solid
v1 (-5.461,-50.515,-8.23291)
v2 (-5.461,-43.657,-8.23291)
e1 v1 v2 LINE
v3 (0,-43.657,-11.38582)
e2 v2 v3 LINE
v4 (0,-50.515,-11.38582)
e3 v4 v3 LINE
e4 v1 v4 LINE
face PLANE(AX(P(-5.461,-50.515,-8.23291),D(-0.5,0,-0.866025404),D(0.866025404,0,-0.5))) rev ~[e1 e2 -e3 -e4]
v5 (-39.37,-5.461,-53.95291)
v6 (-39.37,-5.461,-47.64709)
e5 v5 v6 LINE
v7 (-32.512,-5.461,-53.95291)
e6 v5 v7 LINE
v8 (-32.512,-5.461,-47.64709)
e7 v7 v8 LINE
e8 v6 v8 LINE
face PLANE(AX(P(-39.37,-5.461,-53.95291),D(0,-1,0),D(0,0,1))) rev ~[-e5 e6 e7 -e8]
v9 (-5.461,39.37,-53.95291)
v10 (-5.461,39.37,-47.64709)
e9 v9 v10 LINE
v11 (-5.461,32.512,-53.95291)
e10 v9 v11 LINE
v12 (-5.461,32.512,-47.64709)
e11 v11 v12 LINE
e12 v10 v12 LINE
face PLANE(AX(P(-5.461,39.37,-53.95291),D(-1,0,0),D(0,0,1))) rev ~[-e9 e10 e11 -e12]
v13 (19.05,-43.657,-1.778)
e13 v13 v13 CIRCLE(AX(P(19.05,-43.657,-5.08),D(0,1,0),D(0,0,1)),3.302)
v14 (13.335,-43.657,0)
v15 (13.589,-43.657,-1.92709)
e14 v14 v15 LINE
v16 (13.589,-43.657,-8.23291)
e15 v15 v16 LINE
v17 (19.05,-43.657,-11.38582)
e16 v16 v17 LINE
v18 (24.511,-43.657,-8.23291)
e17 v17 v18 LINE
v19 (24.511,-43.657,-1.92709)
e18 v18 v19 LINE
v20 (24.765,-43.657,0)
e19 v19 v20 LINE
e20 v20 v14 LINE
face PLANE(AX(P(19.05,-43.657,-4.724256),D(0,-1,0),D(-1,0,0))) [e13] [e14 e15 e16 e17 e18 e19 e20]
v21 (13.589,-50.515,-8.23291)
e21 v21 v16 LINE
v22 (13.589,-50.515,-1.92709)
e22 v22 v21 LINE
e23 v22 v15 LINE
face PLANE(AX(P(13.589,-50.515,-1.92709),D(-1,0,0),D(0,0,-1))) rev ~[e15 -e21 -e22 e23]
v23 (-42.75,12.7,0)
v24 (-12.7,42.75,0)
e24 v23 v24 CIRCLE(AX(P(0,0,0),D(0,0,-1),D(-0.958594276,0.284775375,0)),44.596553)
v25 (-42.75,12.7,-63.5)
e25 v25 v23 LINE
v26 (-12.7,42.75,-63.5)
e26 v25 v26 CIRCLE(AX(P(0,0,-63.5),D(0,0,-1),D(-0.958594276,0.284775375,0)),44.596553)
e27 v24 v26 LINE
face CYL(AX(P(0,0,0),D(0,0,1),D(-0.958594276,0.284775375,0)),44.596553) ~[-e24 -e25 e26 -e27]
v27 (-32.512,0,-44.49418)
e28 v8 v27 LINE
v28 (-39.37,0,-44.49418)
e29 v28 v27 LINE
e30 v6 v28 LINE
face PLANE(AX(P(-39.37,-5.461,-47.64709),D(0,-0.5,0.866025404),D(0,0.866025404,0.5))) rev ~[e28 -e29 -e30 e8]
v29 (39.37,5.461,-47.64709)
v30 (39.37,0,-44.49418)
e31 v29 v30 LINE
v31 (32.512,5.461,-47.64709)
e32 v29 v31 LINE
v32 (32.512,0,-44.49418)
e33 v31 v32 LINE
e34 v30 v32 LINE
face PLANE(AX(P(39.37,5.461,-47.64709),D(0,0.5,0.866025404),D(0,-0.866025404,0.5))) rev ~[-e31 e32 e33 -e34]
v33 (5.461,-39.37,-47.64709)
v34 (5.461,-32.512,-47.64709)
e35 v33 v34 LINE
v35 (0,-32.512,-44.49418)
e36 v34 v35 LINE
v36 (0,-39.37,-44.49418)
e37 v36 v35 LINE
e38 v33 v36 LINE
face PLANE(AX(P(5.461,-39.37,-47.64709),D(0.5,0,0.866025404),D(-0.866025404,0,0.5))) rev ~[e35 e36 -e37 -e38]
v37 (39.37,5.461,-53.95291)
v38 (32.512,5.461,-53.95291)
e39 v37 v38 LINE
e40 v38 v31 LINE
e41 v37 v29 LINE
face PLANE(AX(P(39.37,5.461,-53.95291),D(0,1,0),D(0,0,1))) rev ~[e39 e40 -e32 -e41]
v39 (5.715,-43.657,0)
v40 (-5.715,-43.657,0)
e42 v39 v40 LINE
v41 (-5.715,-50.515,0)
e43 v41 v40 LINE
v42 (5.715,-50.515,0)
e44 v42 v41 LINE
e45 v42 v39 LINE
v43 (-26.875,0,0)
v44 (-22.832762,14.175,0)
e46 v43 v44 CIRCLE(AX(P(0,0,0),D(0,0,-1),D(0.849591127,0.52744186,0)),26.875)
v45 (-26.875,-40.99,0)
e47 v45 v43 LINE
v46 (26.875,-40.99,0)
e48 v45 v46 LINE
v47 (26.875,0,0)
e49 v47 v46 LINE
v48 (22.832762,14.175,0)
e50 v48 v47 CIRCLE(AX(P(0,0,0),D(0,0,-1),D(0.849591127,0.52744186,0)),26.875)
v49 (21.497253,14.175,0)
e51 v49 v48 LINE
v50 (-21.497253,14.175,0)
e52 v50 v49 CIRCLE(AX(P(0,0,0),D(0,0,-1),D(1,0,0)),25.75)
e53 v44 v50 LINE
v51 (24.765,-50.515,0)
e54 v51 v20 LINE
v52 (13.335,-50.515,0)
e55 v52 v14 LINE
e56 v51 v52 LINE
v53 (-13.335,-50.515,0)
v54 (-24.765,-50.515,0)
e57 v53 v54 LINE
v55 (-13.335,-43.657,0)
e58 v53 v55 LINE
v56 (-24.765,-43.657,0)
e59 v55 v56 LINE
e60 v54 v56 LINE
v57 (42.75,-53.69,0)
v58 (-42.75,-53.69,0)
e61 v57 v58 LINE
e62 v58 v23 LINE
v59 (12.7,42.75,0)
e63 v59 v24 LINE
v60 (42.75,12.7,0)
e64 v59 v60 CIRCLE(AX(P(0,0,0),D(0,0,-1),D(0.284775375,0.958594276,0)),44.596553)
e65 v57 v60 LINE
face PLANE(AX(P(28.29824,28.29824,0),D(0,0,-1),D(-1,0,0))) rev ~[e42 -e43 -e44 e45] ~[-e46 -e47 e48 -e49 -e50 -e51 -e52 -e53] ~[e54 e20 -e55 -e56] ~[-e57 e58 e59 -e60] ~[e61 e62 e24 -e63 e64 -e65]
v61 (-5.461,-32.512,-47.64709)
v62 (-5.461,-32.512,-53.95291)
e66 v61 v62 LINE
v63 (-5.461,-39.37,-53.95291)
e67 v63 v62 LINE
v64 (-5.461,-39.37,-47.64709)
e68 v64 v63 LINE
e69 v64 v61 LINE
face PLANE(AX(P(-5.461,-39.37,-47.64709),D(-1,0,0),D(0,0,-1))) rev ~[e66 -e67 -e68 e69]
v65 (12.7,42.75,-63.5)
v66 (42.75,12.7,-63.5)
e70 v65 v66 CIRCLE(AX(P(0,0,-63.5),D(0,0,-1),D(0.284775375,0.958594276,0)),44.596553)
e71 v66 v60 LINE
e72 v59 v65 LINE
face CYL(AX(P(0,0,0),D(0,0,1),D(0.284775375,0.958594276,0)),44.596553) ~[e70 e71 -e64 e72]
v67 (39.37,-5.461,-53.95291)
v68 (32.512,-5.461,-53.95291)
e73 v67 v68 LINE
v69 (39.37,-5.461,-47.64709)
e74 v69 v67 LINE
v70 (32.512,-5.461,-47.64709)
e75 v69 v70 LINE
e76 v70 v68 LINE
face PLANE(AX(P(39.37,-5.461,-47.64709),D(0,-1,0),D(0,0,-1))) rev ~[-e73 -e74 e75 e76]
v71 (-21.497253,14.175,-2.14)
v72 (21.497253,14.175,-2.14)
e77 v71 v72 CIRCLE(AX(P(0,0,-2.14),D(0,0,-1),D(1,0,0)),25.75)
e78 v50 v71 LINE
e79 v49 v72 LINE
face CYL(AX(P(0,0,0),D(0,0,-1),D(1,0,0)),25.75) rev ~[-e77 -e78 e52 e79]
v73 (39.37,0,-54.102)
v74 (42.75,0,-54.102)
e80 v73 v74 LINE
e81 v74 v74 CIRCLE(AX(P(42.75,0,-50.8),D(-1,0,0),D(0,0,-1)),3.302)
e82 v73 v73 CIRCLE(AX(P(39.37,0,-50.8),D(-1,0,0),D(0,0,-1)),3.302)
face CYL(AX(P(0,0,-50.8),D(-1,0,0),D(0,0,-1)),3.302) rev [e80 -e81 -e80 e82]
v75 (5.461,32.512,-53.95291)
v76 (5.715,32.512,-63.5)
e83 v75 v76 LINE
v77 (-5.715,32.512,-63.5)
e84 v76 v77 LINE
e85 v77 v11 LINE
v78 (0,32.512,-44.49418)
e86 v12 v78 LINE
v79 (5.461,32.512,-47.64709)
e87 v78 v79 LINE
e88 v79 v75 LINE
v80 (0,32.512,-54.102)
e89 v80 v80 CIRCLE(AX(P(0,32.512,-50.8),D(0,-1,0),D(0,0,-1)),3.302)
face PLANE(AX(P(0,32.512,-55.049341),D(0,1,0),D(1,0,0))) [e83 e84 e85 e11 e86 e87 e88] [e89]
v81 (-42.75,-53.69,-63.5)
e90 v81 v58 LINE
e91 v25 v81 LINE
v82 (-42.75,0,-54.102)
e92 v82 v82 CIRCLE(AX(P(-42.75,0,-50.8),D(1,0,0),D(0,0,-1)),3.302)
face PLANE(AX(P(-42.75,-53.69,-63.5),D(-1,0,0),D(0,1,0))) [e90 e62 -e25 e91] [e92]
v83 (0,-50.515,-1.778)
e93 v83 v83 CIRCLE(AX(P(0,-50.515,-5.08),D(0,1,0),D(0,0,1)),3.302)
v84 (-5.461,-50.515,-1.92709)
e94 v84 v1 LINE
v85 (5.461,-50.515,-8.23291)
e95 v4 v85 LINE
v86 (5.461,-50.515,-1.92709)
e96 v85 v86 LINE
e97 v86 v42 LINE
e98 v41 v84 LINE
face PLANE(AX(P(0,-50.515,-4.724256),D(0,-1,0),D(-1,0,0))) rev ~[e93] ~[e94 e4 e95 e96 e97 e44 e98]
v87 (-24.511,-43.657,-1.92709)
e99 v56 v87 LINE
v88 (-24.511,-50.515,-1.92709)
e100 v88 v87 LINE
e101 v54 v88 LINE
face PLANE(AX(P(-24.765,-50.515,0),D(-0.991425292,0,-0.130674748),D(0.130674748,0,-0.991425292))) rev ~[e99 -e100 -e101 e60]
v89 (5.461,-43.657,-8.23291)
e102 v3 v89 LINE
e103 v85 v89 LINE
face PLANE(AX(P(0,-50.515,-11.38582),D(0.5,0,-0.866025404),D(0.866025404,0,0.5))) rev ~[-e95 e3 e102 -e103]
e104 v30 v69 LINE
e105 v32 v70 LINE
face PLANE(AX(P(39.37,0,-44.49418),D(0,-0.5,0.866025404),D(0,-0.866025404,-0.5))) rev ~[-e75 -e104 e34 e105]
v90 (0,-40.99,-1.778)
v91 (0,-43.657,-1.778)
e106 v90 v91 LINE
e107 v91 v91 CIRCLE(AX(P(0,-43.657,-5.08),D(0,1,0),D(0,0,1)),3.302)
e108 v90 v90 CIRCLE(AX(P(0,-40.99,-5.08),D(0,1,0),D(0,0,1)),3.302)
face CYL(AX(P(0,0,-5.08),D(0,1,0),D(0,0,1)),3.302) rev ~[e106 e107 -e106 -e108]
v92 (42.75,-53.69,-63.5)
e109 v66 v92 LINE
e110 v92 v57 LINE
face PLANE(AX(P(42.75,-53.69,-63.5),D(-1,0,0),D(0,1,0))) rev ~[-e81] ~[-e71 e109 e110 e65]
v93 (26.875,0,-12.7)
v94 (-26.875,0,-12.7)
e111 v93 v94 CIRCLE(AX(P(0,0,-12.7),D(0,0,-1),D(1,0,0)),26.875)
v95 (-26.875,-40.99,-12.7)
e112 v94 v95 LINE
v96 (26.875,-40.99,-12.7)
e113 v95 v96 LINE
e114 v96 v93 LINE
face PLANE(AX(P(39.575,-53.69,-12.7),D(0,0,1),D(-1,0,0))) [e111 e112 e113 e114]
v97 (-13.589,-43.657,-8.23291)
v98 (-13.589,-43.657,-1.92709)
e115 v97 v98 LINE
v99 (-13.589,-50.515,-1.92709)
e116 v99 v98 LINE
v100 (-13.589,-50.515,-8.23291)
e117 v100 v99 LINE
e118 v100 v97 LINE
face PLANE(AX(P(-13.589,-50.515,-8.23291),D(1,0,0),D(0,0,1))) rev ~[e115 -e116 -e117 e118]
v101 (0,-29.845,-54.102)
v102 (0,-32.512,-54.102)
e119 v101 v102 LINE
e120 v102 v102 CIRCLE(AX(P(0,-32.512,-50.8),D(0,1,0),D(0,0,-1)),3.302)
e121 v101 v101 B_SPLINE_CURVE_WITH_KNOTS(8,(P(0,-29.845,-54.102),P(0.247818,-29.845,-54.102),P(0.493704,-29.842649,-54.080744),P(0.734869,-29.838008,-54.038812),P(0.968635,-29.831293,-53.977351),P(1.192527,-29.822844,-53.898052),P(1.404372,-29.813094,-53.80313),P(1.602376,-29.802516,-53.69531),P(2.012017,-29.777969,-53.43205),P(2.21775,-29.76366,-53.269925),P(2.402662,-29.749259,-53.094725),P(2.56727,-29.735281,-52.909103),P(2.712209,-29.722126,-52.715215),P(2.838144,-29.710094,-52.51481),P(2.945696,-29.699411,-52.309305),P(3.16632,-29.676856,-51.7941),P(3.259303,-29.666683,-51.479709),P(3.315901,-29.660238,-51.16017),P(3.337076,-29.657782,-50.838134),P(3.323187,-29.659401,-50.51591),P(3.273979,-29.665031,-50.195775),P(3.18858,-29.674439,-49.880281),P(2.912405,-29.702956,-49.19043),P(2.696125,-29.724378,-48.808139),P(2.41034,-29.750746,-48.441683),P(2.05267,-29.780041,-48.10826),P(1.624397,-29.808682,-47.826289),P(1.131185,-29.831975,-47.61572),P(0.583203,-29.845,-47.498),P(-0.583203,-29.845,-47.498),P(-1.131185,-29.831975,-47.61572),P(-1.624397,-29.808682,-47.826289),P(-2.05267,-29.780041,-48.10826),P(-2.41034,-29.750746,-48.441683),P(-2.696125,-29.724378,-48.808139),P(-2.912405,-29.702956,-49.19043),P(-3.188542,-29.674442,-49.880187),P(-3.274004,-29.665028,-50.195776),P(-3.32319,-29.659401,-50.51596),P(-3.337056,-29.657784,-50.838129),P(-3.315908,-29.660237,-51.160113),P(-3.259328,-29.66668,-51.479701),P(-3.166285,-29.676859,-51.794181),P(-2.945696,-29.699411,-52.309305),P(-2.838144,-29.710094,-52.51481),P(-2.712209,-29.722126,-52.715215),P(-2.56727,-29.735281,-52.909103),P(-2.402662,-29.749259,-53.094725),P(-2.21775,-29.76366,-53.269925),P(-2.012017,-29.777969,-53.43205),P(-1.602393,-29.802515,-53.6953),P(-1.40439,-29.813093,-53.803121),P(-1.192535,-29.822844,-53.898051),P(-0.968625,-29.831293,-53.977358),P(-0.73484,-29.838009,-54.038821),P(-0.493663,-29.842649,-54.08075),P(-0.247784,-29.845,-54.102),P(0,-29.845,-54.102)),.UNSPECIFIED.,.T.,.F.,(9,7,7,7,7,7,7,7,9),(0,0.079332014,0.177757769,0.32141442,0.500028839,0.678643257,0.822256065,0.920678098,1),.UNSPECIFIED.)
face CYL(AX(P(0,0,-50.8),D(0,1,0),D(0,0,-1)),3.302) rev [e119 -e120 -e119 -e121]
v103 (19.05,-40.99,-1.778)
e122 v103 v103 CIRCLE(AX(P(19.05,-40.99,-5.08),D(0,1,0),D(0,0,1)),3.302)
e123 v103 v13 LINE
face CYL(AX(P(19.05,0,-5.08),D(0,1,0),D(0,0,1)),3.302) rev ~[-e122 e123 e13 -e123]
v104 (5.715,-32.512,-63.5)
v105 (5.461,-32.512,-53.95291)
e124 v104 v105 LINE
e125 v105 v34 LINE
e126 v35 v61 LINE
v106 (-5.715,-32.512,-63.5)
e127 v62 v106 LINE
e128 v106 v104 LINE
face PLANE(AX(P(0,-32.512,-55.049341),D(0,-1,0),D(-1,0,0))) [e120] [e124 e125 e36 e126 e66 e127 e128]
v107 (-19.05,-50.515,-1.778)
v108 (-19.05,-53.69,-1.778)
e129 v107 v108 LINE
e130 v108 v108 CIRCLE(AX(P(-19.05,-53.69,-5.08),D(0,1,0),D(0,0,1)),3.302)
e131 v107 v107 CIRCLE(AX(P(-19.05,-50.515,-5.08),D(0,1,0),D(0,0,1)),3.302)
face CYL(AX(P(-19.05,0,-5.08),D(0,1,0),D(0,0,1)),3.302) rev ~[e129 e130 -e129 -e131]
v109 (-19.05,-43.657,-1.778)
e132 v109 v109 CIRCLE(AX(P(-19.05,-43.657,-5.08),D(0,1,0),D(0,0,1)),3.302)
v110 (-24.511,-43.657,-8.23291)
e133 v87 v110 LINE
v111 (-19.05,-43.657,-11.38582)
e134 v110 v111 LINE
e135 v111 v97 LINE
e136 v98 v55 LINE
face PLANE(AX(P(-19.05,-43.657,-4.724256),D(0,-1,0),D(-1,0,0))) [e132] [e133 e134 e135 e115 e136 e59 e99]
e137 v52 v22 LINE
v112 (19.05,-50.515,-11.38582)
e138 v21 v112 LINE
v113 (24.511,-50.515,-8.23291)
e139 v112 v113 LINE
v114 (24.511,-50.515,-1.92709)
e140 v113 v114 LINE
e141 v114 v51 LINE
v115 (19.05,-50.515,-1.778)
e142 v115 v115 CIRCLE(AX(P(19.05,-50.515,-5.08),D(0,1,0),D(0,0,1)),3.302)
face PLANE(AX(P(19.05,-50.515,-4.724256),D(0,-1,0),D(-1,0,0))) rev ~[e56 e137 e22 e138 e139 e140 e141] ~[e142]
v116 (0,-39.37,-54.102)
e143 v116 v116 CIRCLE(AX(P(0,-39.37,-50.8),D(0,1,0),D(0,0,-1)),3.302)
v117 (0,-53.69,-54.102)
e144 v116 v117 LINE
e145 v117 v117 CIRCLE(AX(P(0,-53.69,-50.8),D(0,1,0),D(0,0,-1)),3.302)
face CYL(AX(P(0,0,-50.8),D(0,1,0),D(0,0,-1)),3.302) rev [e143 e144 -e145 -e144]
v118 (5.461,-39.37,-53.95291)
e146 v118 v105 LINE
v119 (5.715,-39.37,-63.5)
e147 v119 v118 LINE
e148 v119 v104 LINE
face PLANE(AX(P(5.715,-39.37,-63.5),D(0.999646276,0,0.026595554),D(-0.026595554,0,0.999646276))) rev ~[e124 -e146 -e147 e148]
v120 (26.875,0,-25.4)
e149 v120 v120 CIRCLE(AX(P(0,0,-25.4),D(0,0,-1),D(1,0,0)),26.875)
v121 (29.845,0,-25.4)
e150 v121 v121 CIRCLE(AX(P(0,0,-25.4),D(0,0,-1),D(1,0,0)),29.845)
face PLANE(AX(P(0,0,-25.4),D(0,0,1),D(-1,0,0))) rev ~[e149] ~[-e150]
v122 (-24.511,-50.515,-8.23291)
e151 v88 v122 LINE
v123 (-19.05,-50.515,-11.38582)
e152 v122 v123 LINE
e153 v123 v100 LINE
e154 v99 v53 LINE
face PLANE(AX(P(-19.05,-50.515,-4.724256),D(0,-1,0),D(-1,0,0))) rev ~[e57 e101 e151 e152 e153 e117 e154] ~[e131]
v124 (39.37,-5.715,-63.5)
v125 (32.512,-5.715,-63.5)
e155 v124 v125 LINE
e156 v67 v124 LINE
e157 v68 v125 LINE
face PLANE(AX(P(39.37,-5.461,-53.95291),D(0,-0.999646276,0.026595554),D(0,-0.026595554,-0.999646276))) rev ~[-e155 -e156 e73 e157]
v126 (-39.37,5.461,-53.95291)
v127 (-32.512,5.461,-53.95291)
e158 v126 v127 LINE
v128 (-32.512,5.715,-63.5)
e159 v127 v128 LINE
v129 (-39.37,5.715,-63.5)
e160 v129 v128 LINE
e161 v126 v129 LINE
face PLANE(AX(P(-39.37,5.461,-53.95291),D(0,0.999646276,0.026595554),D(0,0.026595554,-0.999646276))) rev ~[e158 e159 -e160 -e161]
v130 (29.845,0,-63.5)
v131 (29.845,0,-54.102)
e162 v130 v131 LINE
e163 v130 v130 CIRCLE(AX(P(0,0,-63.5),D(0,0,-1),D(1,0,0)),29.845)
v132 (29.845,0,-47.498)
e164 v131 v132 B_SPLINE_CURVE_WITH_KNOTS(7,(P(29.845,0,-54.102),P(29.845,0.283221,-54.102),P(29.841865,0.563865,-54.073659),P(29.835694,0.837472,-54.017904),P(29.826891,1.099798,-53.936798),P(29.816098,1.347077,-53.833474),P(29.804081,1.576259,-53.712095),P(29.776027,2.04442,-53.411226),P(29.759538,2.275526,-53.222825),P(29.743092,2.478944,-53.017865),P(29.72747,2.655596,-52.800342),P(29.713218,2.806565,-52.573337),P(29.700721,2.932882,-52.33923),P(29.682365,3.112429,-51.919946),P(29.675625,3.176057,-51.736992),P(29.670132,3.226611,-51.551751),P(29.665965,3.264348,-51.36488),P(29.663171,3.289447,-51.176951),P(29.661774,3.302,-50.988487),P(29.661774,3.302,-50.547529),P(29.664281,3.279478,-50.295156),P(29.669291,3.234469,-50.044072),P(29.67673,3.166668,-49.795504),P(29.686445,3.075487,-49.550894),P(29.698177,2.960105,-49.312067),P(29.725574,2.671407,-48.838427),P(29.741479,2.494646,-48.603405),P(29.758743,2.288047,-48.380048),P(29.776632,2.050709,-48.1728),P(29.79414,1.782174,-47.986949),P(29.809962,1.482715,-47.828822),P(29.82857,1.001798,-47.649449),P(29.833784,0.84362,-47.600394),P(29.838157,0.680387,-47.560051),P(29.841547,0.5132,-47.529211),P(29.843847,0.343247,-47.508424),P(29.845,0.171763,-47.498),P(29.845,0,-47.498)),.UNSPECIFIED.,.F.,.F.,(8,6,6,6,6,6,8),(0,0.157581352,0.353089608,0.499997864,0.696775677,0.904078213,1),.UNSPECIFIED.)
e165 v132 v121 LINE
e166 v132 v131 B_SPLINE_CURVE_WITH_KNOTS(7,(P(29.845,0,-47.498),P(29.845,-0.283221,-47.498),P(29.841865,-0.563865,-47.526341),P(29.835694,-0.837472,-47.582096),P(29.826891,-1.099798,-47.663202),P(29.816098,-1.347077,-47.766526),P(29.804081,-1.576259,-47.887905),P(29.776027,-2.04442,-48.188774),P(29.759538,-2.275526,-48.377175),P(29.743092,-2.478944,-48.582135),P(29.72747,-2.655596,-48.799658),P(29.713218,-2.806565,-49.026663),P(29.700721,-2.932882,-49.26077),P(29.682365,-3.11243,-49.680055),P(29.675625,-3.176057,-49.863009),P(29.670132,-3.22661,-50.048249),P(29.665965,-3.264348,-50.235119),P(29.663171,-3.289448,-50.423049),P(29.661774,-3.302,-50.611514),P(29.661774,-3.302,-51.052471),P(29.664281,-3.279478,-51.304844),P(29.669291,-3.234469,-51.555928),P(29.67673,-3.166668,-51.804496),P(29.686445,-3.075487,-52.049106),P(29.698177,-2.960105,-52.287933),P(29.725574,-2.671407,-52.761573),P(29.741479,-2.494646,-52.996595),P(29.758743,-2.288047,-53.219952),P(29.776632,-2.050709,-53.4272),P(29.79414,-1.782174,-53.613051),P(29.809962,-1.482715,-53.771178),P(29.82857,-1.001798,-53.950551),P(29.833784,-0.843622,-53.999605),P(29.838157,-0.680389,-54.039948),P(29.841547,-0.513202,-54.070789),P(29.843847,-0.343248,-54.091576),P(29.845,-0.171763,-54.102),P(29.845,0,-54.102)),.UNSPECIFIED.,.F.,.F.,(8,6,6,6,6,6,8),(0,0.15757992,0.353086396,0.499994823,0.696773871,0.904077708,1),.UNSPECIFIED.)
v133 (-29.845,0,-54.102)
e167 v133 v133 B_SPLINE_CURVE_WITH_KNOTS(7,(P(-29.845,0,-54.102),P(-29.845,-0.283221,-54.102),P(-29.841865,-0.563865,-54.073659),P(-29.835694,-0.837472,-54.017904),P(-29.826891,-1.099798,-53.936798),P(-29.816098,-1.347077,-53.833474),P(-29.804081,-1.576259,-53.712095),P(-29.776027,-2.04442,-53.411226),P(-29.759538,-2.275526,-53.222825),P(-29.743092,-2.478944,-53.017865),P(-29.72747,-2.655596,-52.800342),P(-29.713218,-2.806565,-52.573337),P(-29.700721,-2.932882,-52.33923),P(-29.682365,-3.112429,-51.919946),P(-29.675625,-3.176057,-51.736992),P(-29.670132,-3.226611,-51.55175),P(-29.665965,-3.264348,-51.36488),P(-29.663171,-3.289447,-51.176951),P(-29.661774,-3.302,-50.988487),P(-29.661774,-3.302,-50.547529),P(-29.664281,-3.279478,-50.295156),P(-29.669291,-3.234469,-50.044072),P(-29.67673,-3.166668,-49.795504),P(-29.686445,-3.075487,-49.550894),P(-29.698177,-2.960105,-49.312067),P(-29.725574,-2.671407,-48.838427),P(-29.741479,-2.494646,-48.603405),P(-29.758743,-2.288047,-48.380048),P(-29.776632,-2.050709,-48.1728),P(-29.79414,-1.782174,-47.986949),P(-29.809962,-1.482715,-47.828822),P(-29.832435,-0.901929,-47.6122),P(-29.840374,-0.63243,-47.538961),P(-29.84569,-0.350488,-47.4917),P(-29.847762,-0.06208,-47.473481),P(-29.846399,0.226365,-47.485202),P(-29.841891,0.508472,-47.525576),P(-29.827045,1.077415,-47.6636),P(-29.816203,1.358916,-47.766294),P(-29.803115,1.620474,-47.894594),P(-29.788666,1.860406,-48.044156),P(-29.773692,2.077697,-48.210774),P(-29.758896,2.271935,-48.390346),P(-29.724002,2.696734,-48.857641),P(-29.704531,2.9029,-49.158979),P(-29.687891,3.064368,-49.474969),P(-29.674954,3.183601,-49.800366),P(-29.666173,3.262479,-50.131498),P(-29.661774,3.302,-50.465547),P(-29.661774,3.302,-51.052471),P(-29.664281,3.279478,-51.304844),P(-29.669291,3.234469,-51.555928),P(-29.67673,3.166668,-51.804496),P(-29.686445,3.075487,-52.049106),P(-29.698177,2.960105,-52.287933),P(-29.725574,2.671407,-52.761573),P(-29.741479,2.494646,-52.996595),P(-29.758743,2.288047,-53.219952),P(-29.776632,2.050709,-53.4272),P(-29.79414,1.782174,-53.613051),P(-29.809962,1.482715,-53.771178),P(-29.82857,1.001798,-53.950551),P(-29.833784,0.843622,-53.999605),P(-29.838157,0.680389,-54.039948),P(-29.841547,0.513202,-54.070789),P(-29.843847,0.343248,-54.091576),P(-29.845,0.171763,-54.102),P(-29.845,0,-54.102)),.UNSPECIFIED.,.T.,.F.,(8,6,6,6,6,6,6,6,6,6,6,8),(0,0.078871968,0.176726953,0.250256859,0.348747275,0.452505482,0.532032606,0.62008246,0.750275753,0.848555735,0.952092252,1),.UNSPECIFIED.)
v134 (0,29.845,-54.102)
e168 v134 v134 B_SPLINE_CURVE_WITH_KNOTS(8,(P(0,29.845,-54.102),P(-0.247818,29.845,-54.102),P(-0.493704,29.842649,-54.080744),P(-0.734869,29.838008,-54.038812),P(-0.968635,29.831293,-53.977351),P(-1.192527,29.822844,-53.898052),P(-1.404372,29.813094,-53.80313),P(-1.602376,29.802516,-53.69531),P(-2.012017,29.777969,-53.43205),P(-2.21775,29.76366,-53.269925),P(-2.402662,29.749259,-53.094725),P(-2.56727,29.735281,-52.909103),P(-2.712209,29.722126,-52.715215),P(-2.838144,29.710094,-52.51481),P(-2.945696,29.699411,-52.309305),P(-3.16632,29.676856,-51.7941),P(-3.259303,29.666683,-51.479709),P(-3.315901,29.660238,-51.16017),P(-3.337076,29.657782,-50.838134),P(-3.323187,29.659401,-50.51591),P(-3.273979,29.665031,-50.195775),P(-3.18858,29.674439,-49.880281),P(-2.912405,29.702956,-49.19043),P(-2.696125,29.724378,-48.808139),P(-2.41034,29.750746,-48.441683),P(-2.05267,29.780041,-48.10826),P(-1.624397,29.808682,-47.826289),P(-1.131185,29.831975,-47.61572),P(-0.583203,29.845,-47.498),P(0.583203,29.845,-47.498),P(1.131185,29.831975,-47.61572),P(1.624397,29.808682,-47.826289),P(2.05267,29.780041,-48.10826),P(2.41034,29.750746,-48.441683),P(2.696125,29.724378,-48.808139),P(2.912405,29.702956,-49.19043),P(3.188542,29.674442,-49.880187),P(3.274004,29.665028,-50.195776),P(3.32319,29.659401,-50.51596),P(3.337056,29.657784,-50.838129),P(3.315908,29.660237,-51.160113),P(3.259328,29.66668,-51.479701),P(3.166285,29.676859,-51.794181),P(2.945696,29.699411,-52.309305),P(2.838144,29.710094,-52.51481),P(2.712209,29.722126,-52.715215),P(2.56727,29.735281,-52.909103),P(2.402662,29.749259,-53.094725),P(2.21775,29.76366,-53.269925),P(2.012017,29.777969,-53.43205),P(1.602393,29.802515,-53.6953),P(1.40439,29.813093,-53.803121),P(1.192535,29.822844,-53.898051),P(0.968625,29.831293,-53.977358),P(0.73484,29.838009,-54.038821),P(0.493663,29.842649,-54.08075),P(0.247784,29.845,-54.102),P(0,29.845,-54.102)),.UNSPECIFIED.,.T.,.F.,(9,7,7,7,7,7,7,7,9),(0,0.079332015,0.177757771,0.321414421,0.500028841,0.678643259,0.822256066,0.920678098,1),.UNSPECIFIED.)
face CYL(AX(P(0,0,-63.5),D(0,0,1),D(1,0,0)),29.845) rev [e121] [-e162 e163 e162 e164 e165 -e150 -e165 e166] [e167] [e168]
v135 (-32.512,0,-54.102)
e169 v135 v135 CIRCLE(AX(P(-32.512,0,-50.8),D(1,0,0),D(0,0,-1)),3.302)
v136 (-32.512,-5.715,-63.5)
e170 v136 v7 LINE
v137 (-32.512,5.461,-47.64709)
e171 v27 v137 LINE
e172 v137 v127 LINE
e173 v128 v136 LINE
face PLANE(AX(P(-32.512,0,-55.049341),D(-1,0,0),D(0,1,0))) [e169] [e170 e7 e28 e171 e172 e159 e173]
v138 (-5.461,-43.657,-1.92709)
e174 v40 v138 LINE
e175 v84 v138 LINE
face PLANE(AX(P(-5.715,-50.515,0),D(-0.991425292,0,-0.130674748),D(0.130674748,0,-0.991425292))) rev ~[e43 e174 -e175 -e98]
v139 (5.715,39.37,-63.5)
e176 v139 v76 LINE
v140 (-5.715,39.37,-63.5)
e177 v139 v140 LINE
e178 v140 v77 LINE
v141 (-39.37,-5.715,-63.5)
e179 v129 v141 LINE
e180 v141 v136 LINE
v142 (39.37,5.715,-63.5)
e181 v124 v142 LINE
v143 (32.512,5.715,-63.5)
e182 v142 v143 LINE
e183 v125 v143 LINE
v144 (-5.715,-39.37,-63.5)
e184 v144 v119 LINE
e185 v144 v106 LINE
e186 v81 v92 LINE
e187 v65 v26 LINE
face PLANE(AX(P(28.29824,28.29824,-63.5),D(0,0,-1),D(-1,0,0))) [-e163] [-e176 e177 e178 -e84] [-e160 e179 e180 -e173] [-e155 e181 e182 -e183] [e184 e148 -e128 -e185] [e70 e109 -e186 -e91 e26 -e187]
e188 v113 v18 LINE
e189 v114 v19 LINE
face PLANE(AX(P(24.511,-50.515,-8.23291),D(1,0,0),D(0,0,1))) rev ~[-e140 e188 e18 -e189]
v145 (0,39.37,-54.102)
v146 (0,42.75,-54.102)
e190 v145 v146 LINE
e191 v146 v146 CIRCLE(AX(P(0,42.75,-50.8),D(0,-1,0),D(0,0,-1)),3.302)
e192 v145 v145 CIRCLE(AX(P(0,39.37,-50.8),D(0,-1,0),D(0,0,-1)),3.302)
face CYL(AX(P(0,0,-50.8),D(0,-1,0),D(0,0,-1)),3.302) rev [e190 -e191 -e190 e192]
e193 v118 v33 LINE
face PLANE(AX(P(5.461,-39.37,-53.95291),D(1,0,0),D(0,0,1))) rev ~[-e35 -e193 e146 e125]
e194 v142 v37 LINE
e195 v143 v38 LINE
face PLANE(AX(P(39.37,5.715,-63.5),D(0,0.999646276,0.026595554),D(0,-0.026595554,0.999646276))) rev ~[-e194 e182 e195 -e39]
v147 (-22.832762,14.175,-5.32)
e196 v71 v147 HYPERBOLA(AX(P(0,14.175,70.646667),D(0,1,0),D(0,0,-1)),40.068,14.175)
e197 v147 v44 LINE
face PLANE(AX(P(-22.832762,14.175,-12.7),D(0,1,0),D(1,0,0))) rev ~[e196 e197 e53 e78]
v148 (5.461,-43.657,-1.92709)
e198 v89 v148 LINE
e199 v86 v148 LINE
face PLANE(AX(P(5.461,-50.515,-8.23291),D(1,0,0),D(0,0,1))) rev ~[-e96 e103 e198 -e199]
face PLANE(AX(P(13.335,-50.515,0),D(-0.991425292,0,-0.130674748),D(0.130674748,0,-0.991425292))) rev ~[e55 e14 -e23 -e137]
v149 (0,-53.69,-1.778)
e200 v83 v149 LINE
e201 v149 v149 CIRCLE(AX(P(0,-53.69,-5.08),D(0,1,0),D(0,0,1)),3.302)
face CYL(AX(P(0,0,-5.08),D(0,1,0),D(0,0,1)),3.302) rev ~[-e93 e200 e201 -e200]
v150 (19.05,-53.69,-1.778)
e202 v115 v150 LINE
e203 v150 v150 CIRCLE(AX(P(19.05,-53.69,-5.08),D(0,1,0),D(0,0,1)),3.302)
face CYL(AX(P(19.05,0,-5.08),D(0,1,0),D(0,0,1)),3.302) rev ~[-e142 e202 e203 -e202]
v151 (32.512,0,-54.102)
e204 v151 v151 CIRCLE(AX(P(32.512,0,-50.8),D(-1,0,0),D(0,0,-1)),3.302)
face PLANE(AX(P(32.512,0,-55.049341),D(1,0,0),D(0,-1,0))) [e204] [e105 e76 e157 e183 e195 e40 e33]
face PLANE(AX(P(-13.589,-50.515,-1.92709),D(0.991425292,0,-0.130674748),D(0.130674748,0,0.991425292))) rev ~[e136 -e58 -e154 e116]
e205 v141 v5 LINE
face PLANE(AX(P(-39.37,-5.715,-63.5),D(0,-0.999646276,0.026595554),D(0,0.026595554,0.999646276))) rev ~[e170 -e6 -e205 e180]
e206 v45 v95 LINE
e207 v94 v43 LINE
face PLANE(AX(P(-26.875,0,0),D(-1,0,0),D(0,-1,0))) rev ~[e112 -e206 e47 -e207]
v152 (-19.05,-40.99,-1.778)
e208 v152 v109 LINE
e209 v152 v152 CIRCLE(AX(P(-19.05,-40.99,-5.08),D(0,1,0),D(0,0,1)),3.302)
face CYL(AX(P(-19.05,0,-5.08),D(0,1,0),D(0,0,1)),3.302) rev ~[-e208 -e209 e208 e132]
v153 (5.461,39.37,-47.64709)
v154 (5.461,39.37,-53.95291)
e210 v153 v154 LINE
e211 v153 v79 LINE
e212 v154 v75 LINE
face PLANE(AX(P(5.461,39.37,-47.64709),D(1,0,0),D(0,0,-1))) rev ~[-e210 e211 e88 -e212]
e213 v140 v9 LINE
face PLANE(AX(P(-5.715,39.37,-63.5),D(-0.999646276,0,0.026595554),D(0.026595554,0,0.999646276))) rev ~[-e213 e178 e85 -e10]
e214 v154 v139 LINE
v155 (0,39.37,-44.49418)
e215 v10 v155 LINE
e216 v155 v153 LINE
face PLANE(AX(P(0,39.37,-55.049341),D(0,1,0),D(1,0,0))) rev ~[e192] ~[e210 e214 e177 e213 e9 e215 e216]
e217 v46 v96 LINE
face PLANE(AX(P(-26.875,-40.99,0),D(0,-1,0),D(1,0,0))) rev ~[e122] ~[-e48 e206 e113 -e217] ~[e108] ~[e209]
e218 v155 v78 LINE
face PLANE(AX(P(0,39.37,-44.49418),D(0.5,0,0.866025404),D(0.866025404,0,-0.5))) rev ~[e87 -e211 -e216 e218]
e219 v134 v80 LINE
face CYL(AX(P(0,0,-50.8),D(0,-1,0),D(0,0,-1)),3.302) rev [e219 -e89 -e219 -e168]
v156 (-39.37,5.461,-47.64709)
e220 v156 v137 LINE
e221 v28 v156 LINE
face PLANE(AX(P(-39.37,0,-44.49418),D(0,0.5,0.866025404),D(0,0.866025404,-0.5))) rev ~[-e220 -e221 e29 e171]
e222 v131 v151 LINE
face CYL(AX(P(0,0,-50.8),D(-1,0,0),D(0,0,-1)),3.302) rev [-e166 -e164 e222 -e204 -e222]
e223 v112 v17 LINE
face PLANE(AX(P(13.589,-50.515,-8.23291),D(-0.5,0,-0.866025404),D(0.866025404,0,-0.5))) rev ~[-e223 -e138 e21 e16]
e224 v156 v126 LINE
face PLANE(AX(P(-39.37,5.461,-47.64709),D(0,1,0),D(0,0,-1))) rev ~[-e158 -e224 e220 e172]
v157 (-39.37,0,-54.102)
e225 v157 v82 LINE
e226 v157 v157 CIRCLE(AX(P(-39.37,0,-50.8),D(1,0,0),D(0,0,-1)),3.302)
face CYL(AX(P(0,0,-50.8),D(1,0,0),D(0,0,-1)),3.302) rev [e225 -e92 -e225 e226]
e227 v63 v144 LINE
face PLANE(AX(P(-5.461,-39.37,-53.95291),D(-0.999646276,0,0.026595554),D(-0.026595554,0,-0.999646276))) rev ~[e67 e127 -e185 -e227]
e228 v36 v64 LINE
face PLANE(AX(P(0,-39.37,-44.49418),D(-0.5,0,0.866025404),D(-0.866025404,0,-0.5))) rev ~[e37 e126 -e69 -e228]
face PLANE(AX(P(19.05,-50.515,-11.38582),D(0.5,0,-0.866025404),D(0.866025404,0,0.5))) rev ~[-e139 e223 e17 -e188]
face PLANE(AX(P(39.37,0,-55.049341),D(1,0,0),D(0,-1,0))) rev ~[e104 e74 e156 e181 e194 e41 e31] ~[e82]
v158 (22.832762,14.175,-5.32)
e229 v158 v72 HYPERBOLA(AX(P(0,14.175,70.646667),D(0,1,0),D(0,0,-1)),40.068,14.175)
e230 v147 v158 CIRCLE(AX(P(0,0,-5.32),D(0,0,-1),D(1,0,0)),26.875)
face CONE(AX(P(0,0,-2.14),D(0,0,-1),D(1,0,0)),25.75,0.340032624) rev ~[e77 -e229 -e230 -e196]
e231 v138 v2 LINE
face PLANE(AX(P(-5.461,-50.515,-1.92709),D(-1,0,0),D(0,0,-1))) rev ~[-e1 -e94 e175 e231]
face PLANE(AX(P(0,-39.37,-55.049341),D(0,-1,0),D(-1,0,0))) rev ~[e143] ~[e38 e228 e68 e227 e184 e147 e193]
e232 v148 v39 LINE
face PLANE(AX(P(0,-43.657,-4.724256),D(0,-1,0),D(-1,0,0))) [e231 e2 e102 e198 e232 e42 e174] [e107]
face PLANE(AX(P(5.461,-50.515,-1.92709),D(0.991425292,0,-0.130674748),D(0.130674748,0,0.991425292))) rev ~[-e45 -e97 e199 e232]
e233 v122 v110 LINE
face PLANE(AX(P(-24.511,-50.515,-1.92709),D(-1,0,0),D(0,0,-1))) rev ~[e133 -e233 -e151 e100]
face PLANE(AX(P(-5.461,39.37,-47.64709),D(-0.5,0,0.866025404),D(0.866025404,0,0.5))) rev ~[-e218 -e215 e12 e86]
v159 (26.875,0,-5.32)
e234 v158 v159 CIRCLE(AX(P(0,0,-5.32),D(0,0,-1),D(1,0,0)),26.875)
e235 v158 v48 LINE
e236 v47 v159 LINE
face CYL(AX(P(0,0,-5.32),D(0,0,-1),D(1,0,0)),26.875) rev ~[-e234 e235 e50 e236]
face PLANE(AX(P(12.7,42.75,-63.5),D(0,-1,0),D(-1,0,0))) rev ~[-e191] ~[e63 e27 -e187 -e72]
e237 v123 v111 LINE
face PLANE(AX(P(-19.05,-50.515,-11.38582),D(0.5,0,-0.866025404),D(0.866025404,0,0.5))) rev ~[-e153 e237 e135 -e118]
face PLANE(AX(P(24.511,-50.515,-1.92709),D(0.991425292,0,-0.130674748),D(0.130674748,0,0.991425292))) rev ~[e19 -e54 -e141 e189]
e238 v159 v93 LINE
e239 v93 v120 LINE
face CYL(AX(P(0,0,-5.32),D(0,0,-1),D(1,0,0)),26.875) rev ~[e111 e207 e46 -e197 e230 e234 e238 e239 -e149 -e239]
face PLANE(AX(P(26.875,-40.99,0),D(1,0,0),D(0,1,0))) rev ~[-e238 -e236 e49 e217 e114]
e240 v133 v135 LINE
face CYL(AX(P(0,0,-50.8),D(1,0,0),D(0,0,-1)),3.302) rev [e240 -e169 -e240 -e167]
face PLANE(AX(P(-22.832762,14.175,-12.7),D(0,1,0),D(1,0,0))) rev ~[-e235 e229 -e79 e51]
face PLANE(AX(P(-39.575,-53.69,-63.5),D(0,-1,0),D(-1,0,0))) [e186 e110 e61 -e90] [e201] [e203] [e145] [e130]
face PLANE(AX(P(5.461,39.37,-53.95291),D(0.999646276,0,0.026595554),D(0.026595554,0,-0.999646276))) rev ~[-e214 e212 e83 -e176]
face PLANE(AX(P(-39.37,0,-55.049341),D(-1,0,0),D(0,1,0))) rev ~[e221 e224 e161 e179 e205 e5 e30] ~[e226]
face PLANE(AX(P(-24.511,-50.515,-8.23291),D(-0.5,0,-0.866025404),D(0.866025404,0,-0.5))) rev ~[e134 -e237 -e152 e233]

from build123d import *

# Parameters (mm, degrees)
BOSS_EXTRUDE2_DEPTH = 12.7
CUT_EXTRUDE1_DEPTH  = 12.7
CUT_EXTRUDE2_START  = -12.7
CUT_EXTRUDE2_DEPTH  = 12.7
BOSS_EXTRUDE3_REACH = 106.45
SKETCH9_R           = 3.3020000000000005
SKETCH9_R_2         = 3.3019999999999987
CUT_EXTRUDE3_DEPTH  = 93.09259864397356
CUT_EXTRUDE4_START  = -3.175
CUT_EXTRUDE4_DEPTH  = 6.8580000000000005
BOSS_EXTRUDE6_DEPTH = 38.1
SKETCH12_W          = 25.4
SKETCH12_H          = 6.350000000000001
BOSS_EXTRUDE4_DEPTH = 25.4
CUT_EXTRUDE5_START  = 39.370000000000005
CUT_EXTRUDE5_DEPTH  = 6.8580000000000005
SKETCH13_R          = 3.302000000000001
CUT_EXTRUDE6_DEPTH  = 93.09259864397356
CIRPATTERN1_COUNT   = 4
BOSS_EXTRUDE5_START = 38.1
BOSS_EXTRUDE5_DEPTH = 38.1
SKETCH16_W          = 3.1749999999999687
SKETCH16_H          = 40.98999999999984
SKETCH16_W_2        = 3.1750000000001393
SKETCH16_H_2        = 40.990000000000464
BOSS_EXTRUDE7_DEPTH = 63.5
BOSS_EXTRUDE9_START = -63.5
BOSS_EXTRUDE9_DEPTH = 63.5


with BuildPart() as part:
    # Sketch2 → Revolve1 (revolve)
    with BuildSketch(Plane(origin=(0, 0, 0), x_dir=(1, 0, 0), z_dir=(0, 1, 0))):
        Polygon((25.75, 0), (25.75, 2.14), (26.874999999999996, 5.319999999999995), (26.874999999999993, 25.400000000000006), (39.574999999999996, 25.400000000000002), (39.574999999999974, 5.62e-15), align=None)
    revolve(axis=Axis((0, 0, 0), (0, 0, -1)))

    # Sketch3 → Boss-Extrude2 (add)
    with BuildSketch(Plane.XY):
        Polygon((26.87499999999997, 0), (39.574999999999974, 0), (39.57499999999997, -53.690000000000005), (-39.57499999999997, -53.690000000000005), (-39.574999999999974, 0), (-26.874999999999975, 0), (-26.874999999999968, -40.99), (26.874999999999975, -40.99), align=None)
    extrude(amount=-BOSS_EXTRUDE2_DEPTH)

    # Sketch5 → Cut-Extrude1 (cut)
    with BuildSketch(Plane.XY):
        Polygon((26.874999999999975, -40.99), (-26.874999999999968, -40.99000000000001), (-26.874999999999968, -6.94e-15), (26.874999999999975, -7.8e-16), align=None)
    extrude(amount=-CUT_EXTRUDE1_DEPTH, mode=Mode.SUBTRACT)

    # Sketch6 → Cut-Extrude2 (cut)
    with BuildSketch(Plane.XY.offset(CUT_EXTRUDE2_START)):
        with BuildLine():
            Line((-22.832761550018414, 14.174999999999976), (22.832761550018414, 14.174999999999976))
            ThreePointArc((22.832761550018414, 14.174999999999976), (-4.94e-15, -26.874999999999975), (-22.832761550018414, 14.174999999999976))
        make_face()
    extrude(amount=CUT_EXTRUDE2_DEPTH, mode=Mode.SUBTRACT)

    # Sketch7 → Boss-Extrude3 (add, up to next)
    with BuildSketch(Plane.XZ.offset(53.690000000000005), mode=Mode.PRIVATE) as boss_extrude3_sk1:
        Polygon((39.57499999999997, -12.7), (-39.57499999999997, -12.70000000000001), (-39.57499999999997, -25.40000000000001), (39.57499999999997, -25.4), align=None)
    boss_extrude3_tool1 = extrude(boss_extrude3_sk1.sketch, amount=-BOSS_EXTRUDE3_REACH, mode=Mode.PRIVATE) - part.part
    add(boss_extrude3_tool1.solids().sort_by_distance((0, -53.69, -19.05))[0])

    # Sketch8 → Revolve2 (revolve)
    with BuildSketch(Plane(origin=(0, 0, 0), x_dir=(1, 0, 0), z_dir=(0, 1, 0)), mode=Mode.PRIVATE) as revolve2_sk:
        Polygon((-39.574999999999996, 25.400000000000002), (-39.574999999999974, 63.5), (-29.844999999999995, 63.5), (-29.844999999999995, 25.400000000000006), align=None)
    revolve(revolve2_sk.sketch.rotate(Axis((0, 0, -2.42e-15), (0, 0, -1)), 180), axis=Axis((0, 0, -2.42e-15), (0, 0, -1)))

    # Sketch9 → Cut-Extrude3 (cut, through all)
    with BuildSketch(Plane(origin=(0, 0, 0), x_dir=(1, 0, 0), z_dir=(0, 1, 0))):
        with Locations(Location((0, 5.08, 0), (0, 0, 270))):
            Circle(SKETCH9_R)
        with Locations(Location((19.05, 5.080000000000001, 0), (0, 0, 270))):
            Circle(SKETCH9_R_2)
        with Locations(Location((-19.05, 5.08, 0), (0, 0, 270))):
            Circle(SKETCH9_R_2)
    extrude(amount=-CUT_EXTRUDE3_DEPTH, mode=Mode.SUBTRACT)

    # Sketch10 → Cut-Extrude4 (cut)
    with BuildSketch(Plane(origin=(0, -53.690000000000005, 0), x_dir=(-1, 0, 0), z_dir=(0, -1, 0)).offset(CUT_EXTRUDE4_START)):
        Polygon((-24.511, 1.927090179955452), (-24.765, -8.7e-16), (-13.334999999999999, -8.7e-16), (-13.589, 1.927090179955445), (-13.589, 8.232909820044544), (-19.050000000000004, 11.385819640089089), (-24.511, 8.232909820044545), align=None)
        Polygon((1.88e-15, 11.385819640089093), (-5.460999999999999, 8.232909820044547), (-5.461, 1.9270901799554545), (-5.715, 0), (5.715, 0), (5.4609999999999985, 1.9270901799554514), (5.4609999999999985, 8.232909820044547), align=None)
        Polygon((19.049999999999997, 11.385819640089094), (13.589, 8.23290982004455), (13.589, 1.9270901799554547), (13.335, 8.7e-16), (24.765, 8.7e-16), (24.511000000000003, 1.9270901799554534), (24.511, 8.232909820044547), align=None)
    extrude(amount=-CUT_EXTRUDE4_DEPTH, mode=Mode.SUBTRACT)

    # Sketch15 → Boss-Extrude6 (add)
    with BuildSketch(Plane(origin=(0, 0, -25.400000000000006), x_dir=(-1, 0, 0), z_dir=(0, 0, -1))):
        with BuildLine():
            Line((39.57499999999997, -53.690000000000005), (39.574999999999996, 0))
            ThreePointArc((39.574999999999996, 0), (-7.27e-15, -39.574999999999996), (-39.574999999999996, 4.85e-15))
            Line((-39.574999999999996, 4.85e-15), (-39.57499999999997, -53.690000000000005))
            Line((-39.57499999999997, -53.690000000000005), (39.57499999999997, -53.690000000000005))
        make_face()
    extrude(amount=BOSS_EXTRUDE6_DEPTH)

    # Sketch12 → Boss-Extrude4 (add)
    with BuildSketch(Plane(origin=(0, 0, -63.5), x_dir=(-1, 0, 0), z_dir=(0, 0, -1))):
        with Locations((1.155e-14, 39.574999999999974)):
            Rectangle(SKETCH12_W, SKETCH12_H)
    boss_extrude4 = extrude(amount=-BOSS_EXTRUDE4_DEPTH)

    # Sketch11 → Cut-Extrude5 (cut)
    with BuildSketch(Plane(origin=(0, 0, 0), x_dir=(1, 0, 0), z_dir=(0, 1, 0)).offset(CUT_EXTRUDE5_START)):
        Polygon((-6.92e-15, 44.4941803599109), (5.460999999999995, 47.64709017995545), (5.460999999999995, 53.95290982004454), (5.715, 63.5), (-5.715, 63.5), (-5.461000000000004, 53.95290982004454), (-5.461000000000002, 47.64709017995544), align=None)
    cut_extrude5 = extrude(amount=-CUT_EXTRUDE5_DEPTH, mode=Mode.SUBTRACT)

    # Sketch13 → Cut-Extrude6 (cut, through all)
    with BuildSketch(Plane(origin=(0, 0, 0), x_dir=(1, 0, 0), z_dir=(0, 1, 0))):
        with Locations(Location((0, 50.8, 0), (0, 0, 90))):
            Circle(SKETCH13_R)
    cut_extrude6 = extrude(amount=CUT_EXTRUDE6_DEPTH, mode=Mode.SUBTRACT)

    # CirPattern1: Boss-Extrude4, Cut-Extrude5, Cut-Extrude6 ×4 about axis
    cirpattern1_axis = Axis((-1.2e-16, 3e-17, 0), (0, 0, 1))
    add([boss_extrude4.rotate(cirpattern1_axis, i * 360 / CIRPATTERN1_COUNT) for i in range(1, CIRPATTERN1_COUNT)])
    add([cut_extrude5.rotate(cirpattern1_axis, i * 360 / CIRPATTERN1_COUNT) for i in range(1, CIRPATTERN1_COUNT)], mode=Mode.SUBTRACT)
    add([cut_extrude6.rotate(cirpattern1_axis, i * 360 / CIRPATTERN1_COUNT) for i in range(1, CIRPATTERN1_COUNT)], mode=Mode.SUBTRACT)

    # Sketch14 → Boss-Extrude5 (add)
    with BuildSketch(Plane.XY.offset(-38.1).offset(BOSS_EXTRUDE5_START)):
        with BuildLine():
            Line((39.574999999999974, -12.699999999999605), (42.75000000000011, -12.69999999999954))
            Line((42.75000000000011, -12.69999999999954), (42.749999999999844, 12.70000000000046))
            Line((42.749999999999844, 12.70000000000046), (37.48187061767313, 12.7000000000004))
            ThreePointArc((37.48187061767313, 12.7000000000004), (39.048211576808555, 6.435666061317394), (39.57499999999998, 0))
            Line((39.57499999999998, 0), (39.574999999999974, -12.699999999999605))
        make_face()
        with BuildLine():
            Line((12.699999999999985, 37.48187061767327), (12.699999999999987, 42.74999999999998))
            Line((12.699999999999987, 42.74999999999998), (-12.700000000000012, 42.74999999999998))
            Line((-12.700000000000012, 42.74999999999998), (-12.700000000000014, 37.481870617673266))
            ThreePointArc((-12.700000000000014, 37.481870617673266), (-1.515e-14, 39.57499999999998), (12.699999999999985, 37.48187061767327))
        make_face()
        with BuildLine():
            Line((-37.48187061767331, 12.699999999999852), (-42.750000000000014, 12.699999999999838))
            Line((-42.750000000000014, 12.699999999999838), (-42.749999999999936, -12.700000000000161))
            Line((-42.749999999999936, -12.700000000000161), (-39.574999999999974, -12.700000000000161))
            Line((-39.574999999999974, -12.700000000000161), (-39.57499999999998, 4.85e-15))
            ThreePointArc((-39.57499999999998, 4.85e-15), (-39.0482115768086, 6.435666061317119), (-37.48187061767331, 12.699999999999852))
        make_face()
    extrude(amount=-BOSS_EXTRUDE5_DEPTH)

    # Sketch16 → Boss-Extrude7 (add)
    with BuildSketch(Plane(origin=(0, 0, -63.5), x_dir=(-1, 0, 0), z_dir=(0, 0, -1))):
        with Locations((41.16249999999995, -33.195000000000086)):
            Rectangle(SKETCH16_W, SKETCH16_H)
        with Locations((-41.16250000000004, -33.19499999999977)):
            Rectangle(SKETCH16_W_2, SKETCH16_H_2)
    extrude(amount=-BOSS_EXTRUDE7_DEPTH)

    # Sketch17 → Boss-Extrude9 (add)
    with BuildSketch(Plane(origin=(0, 0, -63.5), x_dir=(-1, 0, 0), z_dir=(0, 0, -1)).offset(BOSS_EXTRUDE9_START)):
        with BuildLine():
            Line((-42.749999999999844, 12.70000000000046), (-37.481870617673124, 12.700000000000404))
            ThreePointArc((-37.481870617673124, 12.700000000000404), (-27.98375086545744, 27.983750865457754), (-12.699999999999989, 37.48187061767326))
            Line((-12.699999999999989, 37.48187061767326), (-12.699999999999987, 42.74999999999998))
            ThreePointArc((-12.699999999999987, 42.74999999999998), (-31.53452473084045, 31.534524730840808), (-42.749999999999844, 12.70000000000046))
        make_face()
        with BuildLine():
            Line((37.481870617673124, 12.700000000000404), (42.750000000000014, 12.699999999999838))
            ThreePointArc((42.750000000000014, 12.699999999999838), (31.534524730840676, 31.53452473084055), (12.700000000000012, 42.74999999999998))
            Line((12.700000000000012, 42.74999999999998), (12.700000000000012, 37.48187061767325))
            ThreePointArc((12.700000000000012, 37.48187061767325), (27.98375086545745, 27.983750865457747), (37.481870617673124, 12.700000000000404))
        make_face()
    extrude(amount=BOSS_EXTRUDE9_DEPTH)


solid = part.part
